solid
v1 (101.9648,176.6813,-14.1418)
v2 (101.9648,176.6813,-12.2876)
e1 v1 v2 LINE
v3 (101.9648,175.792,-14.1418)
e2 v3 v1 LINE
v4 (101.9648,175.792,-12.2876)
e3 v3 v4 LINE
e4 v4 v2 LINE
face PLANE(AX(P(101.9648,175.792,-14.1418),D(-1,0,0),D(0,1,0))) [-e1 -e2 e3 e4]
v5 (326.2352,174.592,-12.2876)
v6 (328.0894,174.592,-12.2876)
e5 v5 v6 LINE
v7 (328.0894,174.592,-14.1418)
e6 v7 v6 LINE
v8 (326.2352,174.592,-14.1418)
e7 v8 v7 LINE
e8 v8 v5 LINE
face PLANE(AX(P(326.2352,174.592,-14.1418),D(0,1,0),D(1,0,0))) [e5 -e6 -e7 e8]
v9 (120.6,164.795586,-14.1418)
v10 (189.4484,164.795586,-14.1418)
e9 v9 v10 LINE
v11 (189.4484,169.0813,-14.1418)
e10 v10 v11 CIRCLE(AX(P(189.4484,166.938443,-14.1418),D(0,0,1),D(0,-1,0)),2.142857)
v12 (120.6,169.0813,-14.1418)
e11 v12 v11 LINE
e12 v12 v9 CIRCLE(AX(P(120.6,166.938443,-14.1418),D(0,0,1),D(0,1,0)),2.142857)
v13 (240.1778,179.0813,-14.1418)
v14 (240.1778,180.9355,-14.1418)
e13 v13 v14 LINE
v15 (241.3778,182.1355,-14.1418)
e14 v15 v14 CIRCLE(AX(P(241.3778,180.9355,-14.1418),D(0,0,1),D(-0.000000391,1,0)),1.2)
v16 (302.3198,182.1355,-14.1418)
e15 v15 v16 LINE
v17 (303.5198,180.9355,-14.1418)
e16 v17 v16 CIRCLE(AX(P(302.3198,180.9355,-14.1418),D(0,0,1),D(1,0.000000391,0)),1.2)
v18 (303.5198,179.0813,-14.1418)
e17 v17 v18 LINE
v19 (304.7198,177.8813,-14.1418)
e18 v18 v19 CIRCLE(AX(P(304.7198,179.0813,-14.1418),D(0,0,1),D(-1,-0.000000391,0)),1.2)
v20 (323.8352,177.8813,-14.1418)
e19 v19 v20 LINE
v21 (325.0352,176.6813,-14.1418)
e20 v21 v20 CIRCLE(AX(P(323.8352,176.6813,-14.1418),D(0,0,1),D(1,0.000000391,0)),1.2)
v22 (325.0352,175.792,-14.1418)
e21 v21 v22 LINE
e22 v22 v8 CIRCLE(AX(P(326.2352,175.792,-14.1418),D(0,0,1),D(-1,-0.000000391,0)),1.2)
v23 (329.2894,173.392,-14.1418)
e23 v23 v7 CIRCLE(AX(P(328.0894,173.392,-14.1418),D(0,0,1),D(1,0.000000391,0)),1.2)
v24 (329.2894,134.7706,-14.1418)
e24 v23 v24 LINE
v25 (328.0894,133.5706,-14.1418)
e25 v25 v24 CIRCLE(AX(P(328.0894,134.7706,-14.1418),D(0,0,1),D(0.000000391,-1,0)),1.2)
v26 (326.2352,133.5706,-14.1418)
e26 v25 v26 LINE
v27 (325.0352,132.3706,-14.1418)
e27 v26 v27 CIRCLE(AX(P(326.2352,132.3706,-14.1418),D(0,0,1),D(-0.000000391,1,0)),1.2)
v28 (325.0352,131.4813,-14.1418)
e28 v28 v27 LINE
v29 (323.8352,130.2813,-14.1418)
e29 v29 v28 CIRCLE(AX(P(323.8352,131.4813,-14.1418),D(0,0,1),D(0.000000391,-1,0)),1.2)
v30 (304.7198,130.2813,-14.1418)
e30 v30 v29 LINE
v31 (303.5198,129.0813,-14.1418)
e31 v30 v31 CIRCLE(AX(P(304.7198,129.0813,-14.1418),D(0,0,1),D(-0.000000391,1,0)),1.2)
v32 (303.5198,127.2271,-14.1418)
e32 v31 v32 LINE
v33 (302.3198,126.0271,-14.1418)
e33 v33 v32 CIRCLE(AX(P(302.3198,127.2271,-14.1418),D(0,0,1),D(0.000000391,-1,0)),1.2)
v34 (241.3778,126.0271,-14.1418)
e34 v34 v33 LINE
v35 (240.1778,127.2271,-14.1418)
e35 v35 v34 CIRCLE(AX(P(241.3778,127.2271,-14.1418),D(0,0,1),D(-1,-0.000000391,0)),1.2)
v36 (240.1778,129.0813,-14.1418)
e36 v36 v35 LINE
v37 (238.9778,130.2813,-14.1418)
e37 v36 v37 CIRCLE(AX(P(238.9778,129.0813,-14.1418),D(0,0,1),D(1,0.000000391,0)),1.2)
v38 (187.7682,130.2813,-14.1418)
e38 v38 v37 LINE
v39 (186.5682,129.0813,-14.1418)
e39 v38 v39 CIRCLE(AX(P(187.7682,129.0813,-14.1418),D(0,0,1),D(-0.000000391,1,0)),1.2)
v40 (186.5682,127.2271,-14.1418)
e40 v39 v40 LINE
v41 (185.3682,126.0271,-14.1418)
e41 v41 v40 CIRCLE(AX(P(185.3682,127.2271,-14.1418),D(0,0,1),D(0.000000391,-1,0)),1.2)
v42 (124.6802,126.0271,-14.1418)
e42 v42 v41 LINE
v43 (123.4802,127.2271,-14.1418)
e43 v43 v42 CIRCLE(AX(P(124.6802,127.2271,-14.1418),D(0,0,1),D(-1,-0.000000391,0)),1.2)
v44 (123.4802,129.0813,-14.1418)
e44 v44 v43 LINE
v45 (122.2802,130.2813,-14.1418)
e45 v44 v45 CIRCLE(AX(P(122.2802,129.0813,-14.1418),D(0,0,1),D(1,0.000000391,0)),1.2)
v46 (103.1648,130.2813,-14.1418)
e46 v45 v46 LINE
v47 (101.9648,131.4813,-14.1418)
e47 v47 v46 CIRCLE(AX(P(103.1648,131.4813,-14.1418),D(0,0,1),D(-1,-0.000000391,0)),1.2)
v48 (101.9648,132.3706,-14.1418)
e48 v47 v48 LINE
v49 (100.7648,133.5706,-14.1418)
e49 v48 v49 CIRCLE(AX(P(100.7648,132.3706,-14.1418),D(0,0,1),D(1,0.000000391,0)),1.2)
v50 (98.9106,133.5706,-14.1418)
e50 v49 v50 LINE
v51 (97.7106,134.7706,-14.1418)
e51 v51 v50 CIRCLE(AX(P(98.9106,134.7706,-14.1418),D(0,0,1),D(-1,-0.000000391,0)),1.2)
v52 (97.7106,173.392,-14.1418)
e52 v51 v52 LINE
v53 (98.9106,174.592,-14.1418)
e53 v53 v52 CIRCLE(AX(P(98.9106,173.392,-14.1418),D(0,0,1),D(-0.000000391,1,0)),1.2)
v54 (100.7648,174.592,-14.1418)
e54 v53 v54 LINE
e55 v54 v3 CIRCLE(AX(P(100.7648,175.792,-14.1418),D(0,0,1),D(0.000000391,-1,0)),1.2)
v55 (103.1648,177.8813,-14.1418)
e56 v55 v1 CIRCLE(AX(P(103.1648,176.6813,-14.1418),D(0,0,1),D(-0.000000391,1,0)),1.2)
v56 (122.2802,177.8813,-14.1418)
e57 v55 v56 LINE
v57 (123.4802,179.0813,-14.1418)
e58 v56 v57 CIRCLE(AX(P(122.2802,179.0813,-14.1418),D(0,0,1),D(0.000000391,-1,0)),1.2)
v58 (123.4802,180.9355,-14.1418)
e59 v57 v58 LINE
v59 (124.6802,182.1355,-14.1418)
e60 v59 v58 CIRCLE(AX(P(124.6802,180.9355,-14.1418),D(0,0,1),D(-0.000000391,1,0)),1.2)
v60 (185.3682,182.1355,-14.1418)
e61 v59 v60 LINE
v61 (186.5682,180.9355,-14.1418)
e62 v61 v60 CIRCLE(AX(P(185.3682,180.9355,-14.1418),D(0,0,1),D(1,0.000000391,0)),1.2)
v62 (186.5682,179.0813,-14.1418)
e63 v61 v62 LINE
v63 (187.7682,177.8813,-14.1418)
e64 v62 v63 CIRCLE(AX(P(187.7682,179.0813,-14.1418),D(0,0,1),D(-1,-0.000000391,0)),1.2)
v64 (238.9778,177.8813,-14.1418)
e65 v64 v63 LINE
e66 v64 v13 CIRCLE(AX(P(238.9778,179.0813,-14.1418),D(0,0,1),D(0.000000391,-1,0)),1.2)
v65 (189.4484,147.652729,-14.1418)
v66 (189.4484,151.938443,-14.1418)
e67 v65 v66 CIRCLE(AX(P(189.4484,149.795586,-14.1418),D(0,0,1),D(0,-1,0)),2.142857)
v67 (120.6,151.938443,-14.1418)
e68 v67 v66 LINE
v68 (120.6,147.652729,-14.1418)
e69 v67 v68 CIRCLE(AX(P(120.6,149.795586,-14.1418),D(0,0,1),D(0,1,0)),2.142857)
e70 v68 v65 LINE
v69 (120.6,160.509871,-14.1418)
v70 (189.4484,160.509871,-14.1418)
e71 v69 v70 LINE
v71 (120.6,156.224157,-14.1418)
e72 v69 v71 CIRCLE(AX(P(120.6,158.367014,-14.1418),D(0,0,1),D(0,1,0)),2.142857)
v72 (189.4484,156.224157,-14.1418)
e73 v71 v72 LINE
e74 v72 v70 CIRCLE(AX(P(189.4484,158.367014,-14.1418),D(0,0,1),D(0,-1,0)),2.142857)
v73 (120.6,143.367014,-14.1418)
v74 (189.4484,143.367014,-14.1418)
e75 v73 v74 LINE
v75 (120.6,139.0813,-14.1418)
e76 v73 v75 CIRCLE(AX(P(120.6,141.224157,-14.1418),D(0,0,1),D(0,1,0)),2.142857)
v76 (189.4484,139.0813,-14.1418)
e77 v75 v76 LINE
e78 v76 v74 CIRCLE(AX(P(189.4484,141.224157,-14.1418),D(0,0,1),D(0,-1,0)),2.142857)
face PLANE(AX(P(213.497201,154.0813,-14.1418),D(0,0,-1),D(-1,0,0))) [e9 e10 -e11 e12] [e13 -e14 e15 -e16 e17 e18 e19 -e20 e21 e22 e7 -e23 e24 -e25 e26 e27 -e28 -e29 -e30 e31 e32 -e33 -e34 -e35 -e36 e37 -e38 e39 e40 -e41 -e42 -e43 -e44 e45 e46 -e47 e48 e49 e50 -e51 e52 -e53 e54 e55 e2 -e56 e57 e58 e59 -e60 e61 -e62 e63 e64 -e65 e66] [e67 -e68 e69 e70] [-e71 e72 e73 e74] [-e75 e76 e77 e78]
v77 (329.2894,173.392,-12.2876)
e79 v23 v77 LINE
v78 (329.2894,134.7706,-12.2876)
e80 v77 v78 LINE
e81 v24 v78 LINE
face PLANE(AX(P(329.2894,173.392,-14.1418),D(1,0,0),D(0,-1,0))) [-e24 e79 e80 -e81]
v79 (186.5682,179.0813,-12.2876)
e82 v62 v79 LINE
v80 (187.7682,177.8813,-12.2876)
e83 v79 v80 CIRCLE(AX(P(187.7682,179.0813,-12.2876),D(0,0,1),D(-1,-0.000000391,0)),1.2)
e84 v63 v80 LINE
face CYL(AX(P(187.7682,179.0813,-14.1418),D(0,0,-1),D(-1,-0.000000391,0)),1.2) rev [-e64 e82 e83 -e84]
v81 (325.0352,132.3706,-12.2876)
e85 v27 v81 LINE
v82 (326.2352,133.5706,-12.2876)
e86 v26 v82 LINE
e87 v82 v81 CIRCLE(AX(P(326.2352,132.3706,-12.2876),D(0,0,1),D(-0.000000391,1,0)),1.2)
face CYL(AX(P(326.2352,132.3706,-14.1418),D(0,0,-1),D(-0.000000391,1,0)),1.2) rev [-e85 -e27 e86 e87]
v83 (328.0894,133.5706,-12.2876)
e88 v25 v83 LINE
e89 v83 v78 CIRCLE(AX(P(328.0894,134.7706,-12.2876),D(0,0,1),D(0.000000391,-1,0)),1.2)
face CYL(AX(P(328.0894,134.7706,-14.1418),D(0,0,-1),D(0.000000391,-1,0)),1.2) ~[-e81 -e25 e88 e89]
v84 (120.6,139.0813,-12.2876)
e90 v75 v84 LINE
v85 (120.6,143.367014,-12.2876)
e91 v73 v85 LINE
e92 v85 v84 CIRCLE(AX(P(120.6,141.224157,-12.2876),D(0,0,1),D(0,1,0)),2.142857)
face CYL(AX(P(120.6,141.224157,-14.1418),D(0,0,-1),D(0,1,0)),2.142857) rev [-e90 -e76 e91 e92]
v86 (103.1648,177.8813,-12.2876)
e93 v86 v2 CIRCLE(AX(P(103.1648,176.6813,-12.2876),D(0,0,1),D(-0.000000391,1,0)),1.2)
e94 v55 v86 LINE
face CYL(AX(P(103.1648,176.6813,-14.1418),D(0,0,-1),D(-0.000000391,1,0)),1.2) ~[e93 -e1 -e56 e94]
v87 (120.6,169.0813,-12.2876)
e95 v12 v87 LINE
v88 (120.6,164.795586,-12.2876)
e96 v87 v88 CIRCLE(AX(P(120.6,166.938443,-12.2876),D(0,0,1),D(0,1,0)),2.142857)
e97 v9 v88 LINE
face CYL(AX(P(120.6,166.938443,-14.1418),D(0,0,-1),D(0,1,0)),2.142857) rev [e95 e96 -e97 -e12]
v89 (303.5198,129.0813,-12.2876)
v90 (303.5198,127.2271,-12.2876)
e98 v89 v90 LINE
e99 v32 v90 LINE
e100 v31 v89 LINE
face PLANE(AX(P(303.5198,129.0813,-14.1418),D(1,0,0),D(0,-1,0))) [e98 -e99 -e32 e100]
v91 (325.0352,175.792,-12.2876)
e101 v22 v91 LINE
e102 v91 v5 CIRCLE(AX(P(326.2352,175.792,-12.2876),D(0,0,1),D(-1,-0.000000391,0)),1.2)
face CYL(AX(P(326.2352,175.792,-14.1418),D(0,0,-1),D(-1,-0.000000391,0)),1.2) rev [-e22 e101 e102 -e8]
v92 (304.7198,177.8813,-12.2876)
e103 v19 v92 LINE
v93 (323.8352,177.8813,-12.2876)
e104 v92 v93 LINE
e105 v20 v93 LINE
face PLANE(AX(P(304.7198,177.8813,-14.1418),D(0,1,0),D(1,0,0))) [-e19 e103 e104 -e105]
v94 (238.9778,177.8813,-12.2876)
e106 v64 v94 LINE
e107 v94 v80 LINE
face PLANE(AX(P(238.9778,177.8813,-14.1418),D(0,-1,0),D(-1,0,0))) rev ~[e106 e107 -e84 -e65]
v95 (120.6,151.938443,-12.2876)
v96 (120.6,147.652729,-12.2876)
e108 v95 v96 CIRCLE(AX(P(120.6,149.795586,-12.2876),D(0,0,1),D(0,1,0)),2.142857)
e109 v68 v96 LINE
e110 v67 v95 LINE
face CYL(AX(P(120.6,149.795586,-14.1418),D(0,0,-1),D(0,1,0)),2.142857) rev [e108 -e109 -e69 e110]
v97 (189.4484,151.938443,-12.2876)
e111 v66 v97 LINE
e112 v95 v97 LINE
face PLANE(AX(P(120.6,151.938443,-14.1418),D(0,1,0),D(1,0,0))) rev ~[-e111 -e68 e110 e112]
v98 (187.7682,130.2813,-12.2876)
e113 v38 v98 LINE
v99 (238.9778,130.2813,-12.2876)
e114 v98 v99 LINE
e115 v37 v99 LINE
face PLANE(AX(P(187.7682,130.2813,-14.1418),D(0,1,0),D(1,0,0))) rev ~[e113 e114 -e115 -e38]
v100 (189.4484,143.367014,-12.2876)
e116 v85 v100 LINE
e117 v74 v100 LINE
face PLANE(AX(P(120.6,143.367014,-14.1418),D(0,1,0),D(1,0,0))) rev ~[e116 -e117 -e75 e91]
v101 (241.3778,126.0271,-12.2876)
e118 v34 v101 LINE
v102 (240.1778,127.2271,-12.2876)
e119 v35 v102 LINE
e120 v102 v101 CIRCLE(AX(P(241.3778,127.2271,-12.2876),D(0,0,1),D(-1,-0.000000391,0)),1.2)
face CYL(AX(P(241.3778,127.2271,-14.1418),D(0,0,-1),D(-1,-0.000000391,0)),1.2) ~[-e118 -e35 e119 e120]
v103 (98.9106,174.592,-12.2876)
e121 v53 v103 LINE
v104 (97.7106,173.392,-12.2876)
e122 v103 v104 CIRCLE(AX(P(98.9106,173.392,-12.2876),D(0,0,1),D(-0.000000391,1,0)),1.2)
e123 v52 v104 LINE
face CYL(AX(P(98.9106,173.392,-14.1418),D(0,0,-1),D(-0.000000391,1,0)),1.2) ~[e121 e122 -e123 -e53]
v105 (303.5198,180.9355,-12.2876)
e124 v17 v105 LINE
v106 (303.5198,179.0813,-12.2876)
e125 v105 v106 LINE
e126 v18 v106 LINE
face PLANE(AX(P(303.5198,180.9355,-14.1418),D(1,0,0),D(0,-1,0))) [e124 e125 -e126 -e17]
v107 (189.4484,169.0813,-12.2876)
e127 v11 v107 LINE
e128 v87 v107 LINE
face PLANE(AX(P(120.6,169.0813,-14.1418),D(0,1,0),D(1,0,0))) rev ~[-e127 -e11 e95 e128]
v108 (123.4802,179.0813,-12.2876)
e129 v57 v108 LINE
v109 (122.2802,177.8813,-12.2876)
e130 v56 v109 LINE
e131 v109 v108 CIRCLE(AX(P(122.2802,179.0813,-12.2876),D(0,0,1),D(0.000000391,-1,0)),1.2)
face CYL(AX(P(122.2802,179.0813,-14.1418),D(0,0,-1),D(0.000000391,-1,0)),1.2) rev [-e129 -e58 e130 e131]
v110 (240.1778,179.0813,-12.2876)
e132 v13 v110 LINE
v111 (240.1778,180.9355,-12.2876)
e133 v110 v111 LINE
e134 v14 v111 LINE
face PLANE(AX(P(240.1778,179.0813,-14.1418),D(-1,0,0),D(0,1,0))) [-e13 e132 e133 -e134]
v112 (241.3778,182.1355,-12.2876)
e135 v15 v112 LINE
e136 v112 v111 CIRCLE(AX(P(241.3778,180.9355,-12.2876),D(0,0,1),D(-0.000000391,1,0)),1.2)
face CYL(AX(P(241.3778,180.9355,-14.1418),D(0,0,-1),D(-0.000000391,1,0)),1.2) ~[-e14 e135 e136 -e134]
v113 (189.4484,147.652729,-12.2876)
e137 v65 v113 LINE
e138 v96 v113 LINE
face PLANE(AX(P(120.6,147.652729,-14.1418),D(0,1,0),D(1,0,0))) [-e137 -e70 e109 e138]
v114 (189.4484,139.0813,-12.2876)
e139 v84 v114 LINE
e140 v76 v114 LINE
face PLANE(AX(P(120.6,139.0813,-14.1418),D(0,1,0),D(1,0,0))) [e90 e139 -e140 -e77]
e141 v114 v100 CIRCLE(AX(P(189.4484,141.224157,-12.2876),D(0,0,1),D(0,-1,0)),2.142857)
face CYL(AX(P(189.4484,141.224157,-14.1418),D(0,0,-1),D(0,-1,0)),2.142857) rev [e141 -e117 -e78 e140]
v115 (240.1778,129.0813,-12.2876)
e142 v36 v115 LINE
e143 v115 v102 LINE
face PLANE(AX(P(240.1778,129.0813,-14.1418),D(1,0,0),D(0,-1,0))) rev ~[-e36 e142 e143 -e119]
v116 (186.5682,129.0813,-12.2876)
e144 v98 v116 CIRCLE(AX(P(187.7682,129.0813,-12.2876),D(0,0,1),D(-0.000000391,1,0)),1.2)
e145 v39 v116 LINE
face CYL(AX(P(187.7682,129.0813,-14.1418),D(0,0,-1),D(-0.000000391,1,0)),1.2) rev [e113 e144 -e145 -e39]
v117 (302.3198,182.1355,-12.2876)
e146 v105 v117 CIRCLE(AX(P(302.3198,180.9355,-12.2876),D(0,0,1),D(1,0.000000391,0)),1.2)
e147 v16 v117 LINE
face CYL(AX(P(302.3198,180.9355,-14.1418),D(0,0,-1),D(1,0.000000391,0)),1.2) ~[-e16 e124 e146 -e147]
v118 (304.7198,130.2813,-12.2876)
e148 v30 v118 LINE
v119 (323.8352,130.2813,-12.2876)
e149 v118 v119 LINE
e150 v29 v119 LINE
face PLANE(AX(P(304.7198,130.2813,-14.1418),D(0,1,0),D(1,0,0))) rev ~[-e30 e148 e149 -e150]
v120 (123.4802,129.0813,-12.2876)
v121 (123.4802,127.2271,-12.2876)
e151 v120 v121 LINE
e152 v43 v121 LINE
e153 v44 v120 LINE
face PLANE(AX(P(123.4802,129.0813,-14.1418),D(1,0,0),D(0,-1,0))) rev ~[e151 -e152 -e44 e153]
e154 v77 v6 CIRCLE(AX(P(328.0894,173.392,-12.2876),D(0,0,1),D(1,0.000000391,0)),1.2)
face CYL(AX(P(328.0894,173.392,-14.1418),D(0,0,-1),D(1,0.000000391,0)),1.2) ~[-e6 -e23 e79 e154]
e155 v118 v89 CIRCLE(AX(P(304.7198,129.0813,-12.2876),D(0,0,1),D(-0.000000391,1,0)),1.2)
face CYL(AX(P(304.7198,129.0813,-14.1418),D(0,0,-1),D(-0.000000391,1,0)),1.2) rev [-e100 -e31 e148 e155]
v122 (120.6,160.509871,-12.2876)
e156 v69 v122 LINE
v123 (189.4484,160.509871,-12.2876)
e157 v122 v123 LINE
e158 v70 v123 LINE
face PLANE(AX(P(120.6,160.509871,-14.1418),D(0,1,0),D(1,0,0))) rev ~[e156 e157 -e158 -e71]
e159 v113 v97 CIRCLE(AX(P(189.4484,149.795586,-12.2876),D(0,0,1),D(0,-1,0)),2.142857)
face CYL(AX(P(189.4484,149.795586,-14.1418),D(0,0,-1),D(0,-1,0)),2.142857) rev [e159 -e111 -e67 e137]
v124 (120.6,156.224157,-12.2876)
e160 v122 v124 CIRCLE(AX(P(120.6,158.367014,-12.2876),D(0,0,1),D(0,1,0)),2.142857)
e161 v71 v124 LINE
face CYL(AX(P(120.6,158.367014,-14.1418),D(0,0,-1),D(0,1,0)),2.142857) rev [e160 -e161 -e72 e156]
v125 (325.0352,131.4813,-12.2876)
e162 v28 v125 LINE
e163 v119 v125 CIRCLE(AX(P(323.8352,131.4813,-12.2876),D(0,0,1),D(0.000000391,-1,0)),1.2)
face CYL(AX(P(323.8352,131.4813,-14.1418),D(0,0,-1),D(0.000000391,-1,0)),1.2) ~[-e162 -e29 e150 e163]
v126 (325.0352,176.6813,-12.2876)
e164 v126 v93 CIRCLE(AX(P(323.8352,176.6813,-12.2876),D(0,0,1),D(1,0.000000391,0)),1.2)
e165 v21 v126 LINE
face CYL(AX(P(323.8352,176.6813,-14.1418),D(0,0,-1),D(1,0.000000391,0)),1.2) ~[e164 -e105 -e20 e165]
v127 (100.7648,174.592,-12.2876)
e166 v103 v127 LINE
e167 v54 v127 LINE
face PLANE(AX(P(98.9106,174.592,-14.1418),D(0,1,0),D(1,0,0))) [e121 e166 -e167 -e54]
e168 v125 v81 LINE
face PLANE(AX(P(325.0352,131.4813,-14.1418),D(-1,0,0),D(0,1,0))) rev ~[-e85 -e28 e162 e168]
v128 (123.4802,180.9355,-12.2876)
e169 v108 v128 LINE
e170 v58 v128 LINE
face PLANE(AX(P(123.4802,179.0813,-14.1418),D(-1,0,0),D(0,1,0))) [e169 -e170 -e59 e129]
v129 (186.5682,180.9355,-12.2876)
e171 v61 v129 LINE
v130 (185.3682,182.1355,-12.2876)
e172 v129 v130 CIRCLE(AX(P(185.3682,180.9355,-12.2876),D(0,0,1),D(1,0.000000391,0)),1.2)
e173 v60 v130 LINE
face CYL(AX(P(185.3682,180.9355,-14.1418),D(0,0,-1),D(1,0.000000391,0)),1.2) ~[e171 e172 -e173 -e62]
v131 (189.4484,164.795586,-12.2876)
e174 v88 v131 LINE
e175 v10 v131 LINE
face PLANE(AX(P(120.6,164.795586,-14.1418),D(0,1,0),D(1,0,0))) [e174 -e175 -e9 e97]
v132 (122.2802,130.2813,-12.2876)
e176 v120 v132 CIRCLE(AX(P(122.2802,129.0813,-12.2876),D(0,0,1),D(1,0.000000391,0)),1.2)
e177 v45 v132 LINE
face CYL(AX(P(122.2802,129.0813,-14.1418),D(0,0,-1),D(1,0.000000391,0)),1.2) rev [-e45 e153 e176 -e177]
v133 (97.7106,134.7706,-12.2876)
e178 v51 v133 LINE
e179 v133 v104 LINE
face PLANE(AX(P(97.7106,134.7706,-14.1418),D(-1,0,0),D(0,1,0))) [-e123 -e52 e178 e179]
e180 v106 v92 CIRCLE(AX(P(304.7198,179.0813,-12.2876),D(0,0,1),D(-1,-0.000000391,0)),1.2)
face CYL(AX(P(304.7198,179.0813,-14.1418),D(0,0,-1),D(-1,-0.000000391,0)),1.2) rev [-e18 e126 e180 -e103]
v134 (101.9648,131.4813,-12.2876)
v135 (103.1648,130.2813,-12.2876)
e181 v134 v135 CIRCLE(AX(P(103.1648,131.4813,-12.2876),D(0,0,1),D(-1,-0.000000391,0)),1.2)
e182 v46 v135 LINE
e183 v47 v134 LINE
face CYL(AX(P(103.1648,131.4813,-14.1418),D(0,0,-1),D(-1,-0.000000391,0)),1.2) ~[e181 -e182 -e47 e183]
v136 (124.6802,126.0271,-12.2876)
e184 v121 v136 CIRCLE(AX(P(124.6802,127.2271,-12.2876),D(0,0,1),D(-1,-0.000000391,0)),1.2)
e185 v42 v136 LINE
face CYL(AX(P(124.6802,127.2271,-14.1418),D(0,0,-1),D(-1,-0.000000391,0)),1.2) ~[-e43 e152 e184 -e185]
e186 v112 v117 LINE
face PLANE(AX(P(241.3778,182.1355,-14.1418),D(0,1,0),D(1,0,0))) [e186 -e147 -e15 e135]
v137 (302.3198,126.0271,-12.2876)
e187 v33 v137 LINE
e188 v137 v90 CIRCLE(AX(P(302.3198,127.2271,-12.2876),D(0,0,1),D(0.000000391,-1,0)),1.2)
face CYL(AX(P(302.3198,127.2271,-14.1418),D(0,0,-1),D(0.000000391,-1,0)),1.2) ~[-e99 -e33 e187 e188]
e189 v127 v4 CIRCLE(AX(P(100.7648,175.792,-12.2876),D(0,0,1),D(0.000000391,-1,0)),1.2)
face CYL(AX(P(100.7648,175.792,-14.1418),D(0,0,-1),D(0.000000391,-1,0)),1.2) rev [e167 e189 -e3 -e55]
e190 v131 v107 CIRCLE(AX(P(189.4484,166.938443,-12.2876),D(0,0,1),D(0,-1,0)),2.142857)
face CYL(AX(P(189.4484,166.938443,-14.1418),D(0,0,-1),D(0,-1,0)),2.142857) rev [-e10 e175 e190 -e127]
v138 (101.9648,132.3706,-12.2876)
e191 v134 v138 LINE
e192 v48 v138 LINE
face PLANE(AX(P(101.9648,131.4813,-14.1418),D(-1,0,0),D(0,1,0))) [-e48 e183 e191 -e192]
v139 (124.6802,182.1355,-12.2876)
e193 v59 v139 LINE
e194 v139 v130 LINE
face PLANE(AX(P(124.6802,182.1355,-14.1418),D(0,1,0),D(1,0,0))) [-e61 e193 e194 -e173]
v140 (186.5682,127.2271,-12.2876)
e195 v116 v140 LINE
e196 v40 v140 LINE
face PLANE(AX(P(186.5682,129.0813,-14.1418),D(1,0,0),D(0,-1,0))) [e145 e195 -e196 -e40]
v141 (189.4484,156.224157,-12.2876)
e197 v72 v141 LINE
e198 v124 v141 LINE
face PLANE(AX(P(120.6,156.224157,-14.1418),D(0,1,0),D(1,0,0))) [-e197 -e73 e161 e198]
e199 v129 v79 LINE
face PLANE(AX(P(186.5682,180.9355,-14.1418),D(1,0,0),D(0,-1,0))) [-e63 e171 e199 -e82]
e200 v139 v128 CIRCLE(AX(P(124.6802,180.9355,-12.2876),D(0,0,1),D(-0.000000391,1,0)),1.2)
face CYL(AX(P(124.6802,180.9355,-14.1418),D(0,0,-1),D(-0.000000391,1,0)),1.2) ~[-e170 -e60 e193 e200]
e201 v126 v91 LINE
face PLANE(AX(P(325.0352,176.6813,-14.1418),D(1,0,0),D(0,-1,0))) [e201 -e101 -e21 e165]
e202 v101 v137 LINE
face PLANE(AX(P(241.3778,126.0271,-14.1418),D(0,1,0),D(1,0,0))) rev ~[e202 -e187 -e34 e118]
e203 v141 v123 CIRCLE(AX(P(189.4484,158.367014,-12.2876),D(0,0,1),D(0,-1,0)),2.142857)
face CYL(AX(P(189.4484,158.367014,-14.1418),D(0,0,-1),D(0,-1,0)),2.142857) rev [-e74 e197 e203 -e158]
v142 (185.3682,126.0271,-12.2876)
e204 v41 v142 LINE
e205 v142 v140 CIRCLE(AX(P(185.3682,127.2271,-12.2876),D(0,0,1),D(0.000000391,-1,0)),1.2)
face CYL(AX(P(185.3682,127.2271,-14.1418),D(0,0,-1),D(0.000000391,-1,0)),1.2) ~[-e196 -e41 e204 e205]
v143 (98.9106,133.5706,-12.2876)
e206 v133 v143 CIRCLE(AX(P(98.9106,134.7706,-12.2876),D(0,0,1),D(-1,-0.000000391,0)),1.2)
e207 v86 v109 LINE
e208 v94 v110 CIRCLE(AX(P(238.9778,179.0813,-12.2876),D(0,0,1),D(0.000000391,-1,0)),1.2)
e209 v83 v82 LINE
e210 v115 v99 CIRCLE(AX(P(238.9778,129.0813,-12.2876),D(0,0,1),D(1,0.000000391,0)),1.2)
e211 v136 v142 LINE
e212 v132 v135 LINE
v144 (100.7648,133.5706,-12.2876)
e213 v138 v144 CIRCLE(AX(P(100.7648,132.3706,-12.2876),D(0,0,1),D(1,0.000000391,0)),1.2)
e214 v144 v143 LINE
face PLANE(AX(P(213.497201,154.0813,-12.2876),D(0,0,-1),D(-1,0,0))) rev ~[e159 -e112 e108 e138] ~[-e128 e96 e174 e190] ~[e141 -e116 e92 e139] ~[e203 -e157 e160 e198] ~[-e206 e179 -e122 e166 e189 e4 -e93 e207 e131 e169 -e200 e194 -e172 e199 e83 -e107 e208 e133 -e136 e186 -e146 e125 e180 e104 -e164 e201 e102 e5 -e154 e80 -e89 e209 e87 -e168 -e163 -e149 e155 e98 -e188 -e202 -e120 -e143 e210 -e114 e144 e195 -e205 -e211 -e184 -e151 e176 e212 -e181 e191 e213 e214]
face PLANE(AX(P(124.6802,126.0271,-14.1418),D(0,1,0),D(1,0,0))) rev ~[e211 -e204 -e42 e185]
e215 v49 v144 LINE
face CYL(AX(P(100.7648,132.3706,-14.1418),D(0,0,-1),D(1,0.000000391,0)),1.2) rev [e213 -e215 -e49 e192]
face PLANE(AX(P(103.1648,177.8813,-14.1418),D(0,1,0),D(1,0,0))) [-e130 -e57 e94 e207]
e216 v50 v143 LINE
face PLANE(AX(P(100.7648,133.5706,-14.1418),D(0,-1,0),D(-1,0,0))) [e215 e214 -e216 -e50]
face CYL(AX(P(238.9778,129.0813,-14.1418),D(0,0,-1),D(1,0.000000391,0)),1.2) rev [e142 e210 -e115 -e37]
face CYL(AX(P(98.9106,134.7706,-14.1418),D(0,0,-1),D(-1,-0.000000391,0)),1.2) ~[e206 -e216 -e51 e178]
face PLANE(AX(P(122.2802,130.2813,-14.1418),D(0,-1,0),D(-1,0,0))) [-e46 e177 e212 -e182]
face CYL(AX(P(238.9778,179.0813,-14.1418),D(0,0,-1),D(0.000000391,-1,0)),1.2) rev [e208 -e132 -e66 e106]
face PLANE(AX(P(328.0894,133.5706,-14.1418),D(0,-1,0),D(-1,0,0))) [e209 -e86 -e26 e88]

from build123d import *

# Parameters (mm, degrees)
PAD_DEPTH = 1.8542


with BuildPart() as part:
    # Sketch (on Face54 of Binder001) → Pad (new body)
    with BuildSketch(Plane.XY.offset(-14.1418)):
        with BuildLine():
            Line((326.2352, 174.592), (328.0894, 174.592))
            ThreePointArc((329.2894, 173.392), (328.937928, 174.240528), (328.0894, 174.592))
            Line((329.2894, 173.392), (329.2894, 134.7706))
            ThreePointArc((328.0894, 133.5706), (328.937928, 133.922072), (329.2894, 134.7706))
            Line((328.0894, 133.5706), (326.2352, 133.5706))
            ThreePointArc((326.2352, 133.5706), (325.386672, 133.219128), (325.0352, 132.3706))
            Line((325.0352, 131.4813), (325.0352, 132.3706))
            ThreePointArc((323.8352, 130.2813), (324.683728, 130.632772), (325.0352, 131.4813))
            Line((304.7198, 130.2813), (323.8352, 130.2813))
            ThreePointArc((304.7198, 130.2813), (303.871272, 129.929828), (303.5198, 129.0813))
            Line((303.5198, 129.0813), (303.5198, 127.2271))
            ThreePointArc((302.3198, 126.0271), (303.168328, 126.378572), (303.5198, 127.2271))
            Line((241.3778, 126.0271), (302.3198, 126.0271))
            ThreePointArc((240.1778, 127.2271), (240.529272, 126.378572), (241.3778, 126.0271))
            Line((240.1778, 129.0813), (240.1778, 127.2271))
            ThreePointArc((240.1778, 129.0813), (239.826328, 129.929828), (238.9778, 130.2813))
            Line((187.7682, 130.2813), (238.9778, 130.2813))
            ThreePointArc((187.7682, 130.2813), (186.919672, 129.929828), (186.5682, 129.0813))
            Line((186.5682, 129.0813), (186.5682, 127.2271))
            ThreePointArc((185.3682, 126.0271), (186.216728, 126.378572), (186.5682, 127.2271))
            Line((124.6802, 126.0271), (185.3682, 126.0271))
            ThreePointArc((123.4802, 127.2271), (123.831672, 126.378572), (124.6802, 126.0271))
            Line((123.4802, 129.0813), (123.4802, 127.2271))
            ThreePointArc((123.4802, 129.0813), (123.128728, 129.929828), (122.2802, 130.2813))
            Line((122.2802, 130.2813), (103.1648, 130.2813))
            ThreePointArc((101.9648, 131.4813), (102.316272, 130.632772), (103.1648, 130.2813))
            Line((101.9648, 131.4813), (101.9648, 132.3706))
            ThreePointArc((101.9648, 132.3706), (101.613328, 133.219128), (100.7648, 133.5706))
            Line((100.7648, 133.5706), (98.9106, 133.5706))
            ThreePointArc((97.7106, 134.7706), (98.062072, 133.922072), (98.9106, 133.5706))
            Line((97.7106, 134.7706), (97.7106, 173.392))
            ThreePointArc((98.9106, 174.592), (98.062072, 174.240528), (97.7106, 173.392))
            Line((98.9106, 174.592), (100.7648, 174.592))
            ThreePointArc((100.7648, 174.592), (101.613328, 174.943472), (101.9648, 175.792))
            Line((101.9648, 175.792), (101.9648, 176.6813))
            ThreePointArc((103.1648, 177.8813), (102.316272, 177.529828), (101.9648, 176.6813))
            Line((103.1648, 177.8813), (122.2802, 177.8813))
            ThreePointArc((122.2802, 177.8813), (123.128728, 178.232772), (123.4802, 179.0813))
            Line((123.4802, 179.0813), (123.4802, 180.9355))
            ThreePointArc((124.6802, 182.1355), (123.831672, 181.784028), (123.4802, 180.9355))
            Line((124.6802, 182.1355), (185.3682, 182.1355))
            ThreePointArc((186.5682, 180.9355), (186.216728, 181.784028), (185.3682, 182.1355))
            Line((186.5682, 180.9355), (186.5682, 179.0813))
            ThreePointArc((186.5682, 179.0813), (186.919672, 178.232772), (187.7682, 177.8813))
            Line((238.9778, 177.8813), (187.7682, 177.8813))
            ThreePointArc((238.9778, 177.8813), (239.826328, 178.232772), (240.1778, 179.0813))
            Line((240.1778, 179.0813), (240.1778, 180.9355))
            ThreePointArc((241.3778, 182.1355), (240.529272, 181.784028), (240.1778, 180.9355))
            Line((241.3778, 182.1355), (302.3198, 182.1355))
            ThreePointArc((303.5198, 180.9355), (303.168328, 181.784028), (302.3198, 182.1355))
            Line((303.5198, 180.9355), (303.5198, 179.0813))
            ThreePointArc((303.5198, 179.0813), (303.871272, 178.232772), (304.7198, 177.8813))
            Line((304.7198, 177.8813), (323.8352, 177.8813))
            ThreePointArc((325.0352, 176.6813), (324.683728, 177.529828), (323.8352, 177.8813))
            Line((325.0352, 176.6813), (325.0352, 175.792))
            ThreePointArc((325.0352, 175.792), (325.386672, 174.943472), (326.2352, 174.592))
        make_face()
        with BuildLine():
            ThreePointArc((120.6, 143.367014), (118.457143, 141.224157), (120.6, 139.0813))
            Line((120.6, 139.0813), (189.4484, 139.0813))
            ThreePointArc((189.4484, 139.0813), (191.591257, 141.224157), (189.4484, 143.367014))
            Line((120.6, 143.367014), (189.4484, 143.367014))
        make_face(mode=Mode.SUBTRACT)
        with BuildLine():
            ThreePointArc((120.6, 151.938443), (118.457143, 149.795586), (120.6, 147.652729))
            Line((120.6, 147.652729), (189.4484, 147.652729))
            ThreePointArc((189.4484, 147.652729), (191.591257, 149.795586), (189.4484, 151.938443))
            Line((120.6, 151.938443), (189.4484, 151.938443))
        make_face(mode=Mode.SUBTRACT)
        with BuildLine():
            ThreePointArc((120.6, 160.509871), (118.457143, 158.367014), (120.6, 156.224157))
            Line((120.6, 156.224157), (189.4484, 156.224157))
            ThreePointArc((189.4484, 156.224157), (191.591257, 158.367014), (189.4484, 160.509871))
            Line((120.6, 160.509871), (189.4484, 160.509871))
        make_face(mode=Mode.SUBTRACT)
        with BuildLine():
            ThreePointArc((120.6, 169.0813), (118.457143, 166.938443), (120.6, 164.795586))
            Line((120.6, 164.795586), (189.4484, 164.795586))
            ThreePointArc((189.4484, 164.795586), (191.591257, 166.938443), (189.4484, 169.0813))
            Line((120.6, 169.0813), (189.4484, 169.0813))
        make_face(mode=Mode.SUBTRACT)
    extrude(amount=PAD_DEPTH)


solid = part.part
